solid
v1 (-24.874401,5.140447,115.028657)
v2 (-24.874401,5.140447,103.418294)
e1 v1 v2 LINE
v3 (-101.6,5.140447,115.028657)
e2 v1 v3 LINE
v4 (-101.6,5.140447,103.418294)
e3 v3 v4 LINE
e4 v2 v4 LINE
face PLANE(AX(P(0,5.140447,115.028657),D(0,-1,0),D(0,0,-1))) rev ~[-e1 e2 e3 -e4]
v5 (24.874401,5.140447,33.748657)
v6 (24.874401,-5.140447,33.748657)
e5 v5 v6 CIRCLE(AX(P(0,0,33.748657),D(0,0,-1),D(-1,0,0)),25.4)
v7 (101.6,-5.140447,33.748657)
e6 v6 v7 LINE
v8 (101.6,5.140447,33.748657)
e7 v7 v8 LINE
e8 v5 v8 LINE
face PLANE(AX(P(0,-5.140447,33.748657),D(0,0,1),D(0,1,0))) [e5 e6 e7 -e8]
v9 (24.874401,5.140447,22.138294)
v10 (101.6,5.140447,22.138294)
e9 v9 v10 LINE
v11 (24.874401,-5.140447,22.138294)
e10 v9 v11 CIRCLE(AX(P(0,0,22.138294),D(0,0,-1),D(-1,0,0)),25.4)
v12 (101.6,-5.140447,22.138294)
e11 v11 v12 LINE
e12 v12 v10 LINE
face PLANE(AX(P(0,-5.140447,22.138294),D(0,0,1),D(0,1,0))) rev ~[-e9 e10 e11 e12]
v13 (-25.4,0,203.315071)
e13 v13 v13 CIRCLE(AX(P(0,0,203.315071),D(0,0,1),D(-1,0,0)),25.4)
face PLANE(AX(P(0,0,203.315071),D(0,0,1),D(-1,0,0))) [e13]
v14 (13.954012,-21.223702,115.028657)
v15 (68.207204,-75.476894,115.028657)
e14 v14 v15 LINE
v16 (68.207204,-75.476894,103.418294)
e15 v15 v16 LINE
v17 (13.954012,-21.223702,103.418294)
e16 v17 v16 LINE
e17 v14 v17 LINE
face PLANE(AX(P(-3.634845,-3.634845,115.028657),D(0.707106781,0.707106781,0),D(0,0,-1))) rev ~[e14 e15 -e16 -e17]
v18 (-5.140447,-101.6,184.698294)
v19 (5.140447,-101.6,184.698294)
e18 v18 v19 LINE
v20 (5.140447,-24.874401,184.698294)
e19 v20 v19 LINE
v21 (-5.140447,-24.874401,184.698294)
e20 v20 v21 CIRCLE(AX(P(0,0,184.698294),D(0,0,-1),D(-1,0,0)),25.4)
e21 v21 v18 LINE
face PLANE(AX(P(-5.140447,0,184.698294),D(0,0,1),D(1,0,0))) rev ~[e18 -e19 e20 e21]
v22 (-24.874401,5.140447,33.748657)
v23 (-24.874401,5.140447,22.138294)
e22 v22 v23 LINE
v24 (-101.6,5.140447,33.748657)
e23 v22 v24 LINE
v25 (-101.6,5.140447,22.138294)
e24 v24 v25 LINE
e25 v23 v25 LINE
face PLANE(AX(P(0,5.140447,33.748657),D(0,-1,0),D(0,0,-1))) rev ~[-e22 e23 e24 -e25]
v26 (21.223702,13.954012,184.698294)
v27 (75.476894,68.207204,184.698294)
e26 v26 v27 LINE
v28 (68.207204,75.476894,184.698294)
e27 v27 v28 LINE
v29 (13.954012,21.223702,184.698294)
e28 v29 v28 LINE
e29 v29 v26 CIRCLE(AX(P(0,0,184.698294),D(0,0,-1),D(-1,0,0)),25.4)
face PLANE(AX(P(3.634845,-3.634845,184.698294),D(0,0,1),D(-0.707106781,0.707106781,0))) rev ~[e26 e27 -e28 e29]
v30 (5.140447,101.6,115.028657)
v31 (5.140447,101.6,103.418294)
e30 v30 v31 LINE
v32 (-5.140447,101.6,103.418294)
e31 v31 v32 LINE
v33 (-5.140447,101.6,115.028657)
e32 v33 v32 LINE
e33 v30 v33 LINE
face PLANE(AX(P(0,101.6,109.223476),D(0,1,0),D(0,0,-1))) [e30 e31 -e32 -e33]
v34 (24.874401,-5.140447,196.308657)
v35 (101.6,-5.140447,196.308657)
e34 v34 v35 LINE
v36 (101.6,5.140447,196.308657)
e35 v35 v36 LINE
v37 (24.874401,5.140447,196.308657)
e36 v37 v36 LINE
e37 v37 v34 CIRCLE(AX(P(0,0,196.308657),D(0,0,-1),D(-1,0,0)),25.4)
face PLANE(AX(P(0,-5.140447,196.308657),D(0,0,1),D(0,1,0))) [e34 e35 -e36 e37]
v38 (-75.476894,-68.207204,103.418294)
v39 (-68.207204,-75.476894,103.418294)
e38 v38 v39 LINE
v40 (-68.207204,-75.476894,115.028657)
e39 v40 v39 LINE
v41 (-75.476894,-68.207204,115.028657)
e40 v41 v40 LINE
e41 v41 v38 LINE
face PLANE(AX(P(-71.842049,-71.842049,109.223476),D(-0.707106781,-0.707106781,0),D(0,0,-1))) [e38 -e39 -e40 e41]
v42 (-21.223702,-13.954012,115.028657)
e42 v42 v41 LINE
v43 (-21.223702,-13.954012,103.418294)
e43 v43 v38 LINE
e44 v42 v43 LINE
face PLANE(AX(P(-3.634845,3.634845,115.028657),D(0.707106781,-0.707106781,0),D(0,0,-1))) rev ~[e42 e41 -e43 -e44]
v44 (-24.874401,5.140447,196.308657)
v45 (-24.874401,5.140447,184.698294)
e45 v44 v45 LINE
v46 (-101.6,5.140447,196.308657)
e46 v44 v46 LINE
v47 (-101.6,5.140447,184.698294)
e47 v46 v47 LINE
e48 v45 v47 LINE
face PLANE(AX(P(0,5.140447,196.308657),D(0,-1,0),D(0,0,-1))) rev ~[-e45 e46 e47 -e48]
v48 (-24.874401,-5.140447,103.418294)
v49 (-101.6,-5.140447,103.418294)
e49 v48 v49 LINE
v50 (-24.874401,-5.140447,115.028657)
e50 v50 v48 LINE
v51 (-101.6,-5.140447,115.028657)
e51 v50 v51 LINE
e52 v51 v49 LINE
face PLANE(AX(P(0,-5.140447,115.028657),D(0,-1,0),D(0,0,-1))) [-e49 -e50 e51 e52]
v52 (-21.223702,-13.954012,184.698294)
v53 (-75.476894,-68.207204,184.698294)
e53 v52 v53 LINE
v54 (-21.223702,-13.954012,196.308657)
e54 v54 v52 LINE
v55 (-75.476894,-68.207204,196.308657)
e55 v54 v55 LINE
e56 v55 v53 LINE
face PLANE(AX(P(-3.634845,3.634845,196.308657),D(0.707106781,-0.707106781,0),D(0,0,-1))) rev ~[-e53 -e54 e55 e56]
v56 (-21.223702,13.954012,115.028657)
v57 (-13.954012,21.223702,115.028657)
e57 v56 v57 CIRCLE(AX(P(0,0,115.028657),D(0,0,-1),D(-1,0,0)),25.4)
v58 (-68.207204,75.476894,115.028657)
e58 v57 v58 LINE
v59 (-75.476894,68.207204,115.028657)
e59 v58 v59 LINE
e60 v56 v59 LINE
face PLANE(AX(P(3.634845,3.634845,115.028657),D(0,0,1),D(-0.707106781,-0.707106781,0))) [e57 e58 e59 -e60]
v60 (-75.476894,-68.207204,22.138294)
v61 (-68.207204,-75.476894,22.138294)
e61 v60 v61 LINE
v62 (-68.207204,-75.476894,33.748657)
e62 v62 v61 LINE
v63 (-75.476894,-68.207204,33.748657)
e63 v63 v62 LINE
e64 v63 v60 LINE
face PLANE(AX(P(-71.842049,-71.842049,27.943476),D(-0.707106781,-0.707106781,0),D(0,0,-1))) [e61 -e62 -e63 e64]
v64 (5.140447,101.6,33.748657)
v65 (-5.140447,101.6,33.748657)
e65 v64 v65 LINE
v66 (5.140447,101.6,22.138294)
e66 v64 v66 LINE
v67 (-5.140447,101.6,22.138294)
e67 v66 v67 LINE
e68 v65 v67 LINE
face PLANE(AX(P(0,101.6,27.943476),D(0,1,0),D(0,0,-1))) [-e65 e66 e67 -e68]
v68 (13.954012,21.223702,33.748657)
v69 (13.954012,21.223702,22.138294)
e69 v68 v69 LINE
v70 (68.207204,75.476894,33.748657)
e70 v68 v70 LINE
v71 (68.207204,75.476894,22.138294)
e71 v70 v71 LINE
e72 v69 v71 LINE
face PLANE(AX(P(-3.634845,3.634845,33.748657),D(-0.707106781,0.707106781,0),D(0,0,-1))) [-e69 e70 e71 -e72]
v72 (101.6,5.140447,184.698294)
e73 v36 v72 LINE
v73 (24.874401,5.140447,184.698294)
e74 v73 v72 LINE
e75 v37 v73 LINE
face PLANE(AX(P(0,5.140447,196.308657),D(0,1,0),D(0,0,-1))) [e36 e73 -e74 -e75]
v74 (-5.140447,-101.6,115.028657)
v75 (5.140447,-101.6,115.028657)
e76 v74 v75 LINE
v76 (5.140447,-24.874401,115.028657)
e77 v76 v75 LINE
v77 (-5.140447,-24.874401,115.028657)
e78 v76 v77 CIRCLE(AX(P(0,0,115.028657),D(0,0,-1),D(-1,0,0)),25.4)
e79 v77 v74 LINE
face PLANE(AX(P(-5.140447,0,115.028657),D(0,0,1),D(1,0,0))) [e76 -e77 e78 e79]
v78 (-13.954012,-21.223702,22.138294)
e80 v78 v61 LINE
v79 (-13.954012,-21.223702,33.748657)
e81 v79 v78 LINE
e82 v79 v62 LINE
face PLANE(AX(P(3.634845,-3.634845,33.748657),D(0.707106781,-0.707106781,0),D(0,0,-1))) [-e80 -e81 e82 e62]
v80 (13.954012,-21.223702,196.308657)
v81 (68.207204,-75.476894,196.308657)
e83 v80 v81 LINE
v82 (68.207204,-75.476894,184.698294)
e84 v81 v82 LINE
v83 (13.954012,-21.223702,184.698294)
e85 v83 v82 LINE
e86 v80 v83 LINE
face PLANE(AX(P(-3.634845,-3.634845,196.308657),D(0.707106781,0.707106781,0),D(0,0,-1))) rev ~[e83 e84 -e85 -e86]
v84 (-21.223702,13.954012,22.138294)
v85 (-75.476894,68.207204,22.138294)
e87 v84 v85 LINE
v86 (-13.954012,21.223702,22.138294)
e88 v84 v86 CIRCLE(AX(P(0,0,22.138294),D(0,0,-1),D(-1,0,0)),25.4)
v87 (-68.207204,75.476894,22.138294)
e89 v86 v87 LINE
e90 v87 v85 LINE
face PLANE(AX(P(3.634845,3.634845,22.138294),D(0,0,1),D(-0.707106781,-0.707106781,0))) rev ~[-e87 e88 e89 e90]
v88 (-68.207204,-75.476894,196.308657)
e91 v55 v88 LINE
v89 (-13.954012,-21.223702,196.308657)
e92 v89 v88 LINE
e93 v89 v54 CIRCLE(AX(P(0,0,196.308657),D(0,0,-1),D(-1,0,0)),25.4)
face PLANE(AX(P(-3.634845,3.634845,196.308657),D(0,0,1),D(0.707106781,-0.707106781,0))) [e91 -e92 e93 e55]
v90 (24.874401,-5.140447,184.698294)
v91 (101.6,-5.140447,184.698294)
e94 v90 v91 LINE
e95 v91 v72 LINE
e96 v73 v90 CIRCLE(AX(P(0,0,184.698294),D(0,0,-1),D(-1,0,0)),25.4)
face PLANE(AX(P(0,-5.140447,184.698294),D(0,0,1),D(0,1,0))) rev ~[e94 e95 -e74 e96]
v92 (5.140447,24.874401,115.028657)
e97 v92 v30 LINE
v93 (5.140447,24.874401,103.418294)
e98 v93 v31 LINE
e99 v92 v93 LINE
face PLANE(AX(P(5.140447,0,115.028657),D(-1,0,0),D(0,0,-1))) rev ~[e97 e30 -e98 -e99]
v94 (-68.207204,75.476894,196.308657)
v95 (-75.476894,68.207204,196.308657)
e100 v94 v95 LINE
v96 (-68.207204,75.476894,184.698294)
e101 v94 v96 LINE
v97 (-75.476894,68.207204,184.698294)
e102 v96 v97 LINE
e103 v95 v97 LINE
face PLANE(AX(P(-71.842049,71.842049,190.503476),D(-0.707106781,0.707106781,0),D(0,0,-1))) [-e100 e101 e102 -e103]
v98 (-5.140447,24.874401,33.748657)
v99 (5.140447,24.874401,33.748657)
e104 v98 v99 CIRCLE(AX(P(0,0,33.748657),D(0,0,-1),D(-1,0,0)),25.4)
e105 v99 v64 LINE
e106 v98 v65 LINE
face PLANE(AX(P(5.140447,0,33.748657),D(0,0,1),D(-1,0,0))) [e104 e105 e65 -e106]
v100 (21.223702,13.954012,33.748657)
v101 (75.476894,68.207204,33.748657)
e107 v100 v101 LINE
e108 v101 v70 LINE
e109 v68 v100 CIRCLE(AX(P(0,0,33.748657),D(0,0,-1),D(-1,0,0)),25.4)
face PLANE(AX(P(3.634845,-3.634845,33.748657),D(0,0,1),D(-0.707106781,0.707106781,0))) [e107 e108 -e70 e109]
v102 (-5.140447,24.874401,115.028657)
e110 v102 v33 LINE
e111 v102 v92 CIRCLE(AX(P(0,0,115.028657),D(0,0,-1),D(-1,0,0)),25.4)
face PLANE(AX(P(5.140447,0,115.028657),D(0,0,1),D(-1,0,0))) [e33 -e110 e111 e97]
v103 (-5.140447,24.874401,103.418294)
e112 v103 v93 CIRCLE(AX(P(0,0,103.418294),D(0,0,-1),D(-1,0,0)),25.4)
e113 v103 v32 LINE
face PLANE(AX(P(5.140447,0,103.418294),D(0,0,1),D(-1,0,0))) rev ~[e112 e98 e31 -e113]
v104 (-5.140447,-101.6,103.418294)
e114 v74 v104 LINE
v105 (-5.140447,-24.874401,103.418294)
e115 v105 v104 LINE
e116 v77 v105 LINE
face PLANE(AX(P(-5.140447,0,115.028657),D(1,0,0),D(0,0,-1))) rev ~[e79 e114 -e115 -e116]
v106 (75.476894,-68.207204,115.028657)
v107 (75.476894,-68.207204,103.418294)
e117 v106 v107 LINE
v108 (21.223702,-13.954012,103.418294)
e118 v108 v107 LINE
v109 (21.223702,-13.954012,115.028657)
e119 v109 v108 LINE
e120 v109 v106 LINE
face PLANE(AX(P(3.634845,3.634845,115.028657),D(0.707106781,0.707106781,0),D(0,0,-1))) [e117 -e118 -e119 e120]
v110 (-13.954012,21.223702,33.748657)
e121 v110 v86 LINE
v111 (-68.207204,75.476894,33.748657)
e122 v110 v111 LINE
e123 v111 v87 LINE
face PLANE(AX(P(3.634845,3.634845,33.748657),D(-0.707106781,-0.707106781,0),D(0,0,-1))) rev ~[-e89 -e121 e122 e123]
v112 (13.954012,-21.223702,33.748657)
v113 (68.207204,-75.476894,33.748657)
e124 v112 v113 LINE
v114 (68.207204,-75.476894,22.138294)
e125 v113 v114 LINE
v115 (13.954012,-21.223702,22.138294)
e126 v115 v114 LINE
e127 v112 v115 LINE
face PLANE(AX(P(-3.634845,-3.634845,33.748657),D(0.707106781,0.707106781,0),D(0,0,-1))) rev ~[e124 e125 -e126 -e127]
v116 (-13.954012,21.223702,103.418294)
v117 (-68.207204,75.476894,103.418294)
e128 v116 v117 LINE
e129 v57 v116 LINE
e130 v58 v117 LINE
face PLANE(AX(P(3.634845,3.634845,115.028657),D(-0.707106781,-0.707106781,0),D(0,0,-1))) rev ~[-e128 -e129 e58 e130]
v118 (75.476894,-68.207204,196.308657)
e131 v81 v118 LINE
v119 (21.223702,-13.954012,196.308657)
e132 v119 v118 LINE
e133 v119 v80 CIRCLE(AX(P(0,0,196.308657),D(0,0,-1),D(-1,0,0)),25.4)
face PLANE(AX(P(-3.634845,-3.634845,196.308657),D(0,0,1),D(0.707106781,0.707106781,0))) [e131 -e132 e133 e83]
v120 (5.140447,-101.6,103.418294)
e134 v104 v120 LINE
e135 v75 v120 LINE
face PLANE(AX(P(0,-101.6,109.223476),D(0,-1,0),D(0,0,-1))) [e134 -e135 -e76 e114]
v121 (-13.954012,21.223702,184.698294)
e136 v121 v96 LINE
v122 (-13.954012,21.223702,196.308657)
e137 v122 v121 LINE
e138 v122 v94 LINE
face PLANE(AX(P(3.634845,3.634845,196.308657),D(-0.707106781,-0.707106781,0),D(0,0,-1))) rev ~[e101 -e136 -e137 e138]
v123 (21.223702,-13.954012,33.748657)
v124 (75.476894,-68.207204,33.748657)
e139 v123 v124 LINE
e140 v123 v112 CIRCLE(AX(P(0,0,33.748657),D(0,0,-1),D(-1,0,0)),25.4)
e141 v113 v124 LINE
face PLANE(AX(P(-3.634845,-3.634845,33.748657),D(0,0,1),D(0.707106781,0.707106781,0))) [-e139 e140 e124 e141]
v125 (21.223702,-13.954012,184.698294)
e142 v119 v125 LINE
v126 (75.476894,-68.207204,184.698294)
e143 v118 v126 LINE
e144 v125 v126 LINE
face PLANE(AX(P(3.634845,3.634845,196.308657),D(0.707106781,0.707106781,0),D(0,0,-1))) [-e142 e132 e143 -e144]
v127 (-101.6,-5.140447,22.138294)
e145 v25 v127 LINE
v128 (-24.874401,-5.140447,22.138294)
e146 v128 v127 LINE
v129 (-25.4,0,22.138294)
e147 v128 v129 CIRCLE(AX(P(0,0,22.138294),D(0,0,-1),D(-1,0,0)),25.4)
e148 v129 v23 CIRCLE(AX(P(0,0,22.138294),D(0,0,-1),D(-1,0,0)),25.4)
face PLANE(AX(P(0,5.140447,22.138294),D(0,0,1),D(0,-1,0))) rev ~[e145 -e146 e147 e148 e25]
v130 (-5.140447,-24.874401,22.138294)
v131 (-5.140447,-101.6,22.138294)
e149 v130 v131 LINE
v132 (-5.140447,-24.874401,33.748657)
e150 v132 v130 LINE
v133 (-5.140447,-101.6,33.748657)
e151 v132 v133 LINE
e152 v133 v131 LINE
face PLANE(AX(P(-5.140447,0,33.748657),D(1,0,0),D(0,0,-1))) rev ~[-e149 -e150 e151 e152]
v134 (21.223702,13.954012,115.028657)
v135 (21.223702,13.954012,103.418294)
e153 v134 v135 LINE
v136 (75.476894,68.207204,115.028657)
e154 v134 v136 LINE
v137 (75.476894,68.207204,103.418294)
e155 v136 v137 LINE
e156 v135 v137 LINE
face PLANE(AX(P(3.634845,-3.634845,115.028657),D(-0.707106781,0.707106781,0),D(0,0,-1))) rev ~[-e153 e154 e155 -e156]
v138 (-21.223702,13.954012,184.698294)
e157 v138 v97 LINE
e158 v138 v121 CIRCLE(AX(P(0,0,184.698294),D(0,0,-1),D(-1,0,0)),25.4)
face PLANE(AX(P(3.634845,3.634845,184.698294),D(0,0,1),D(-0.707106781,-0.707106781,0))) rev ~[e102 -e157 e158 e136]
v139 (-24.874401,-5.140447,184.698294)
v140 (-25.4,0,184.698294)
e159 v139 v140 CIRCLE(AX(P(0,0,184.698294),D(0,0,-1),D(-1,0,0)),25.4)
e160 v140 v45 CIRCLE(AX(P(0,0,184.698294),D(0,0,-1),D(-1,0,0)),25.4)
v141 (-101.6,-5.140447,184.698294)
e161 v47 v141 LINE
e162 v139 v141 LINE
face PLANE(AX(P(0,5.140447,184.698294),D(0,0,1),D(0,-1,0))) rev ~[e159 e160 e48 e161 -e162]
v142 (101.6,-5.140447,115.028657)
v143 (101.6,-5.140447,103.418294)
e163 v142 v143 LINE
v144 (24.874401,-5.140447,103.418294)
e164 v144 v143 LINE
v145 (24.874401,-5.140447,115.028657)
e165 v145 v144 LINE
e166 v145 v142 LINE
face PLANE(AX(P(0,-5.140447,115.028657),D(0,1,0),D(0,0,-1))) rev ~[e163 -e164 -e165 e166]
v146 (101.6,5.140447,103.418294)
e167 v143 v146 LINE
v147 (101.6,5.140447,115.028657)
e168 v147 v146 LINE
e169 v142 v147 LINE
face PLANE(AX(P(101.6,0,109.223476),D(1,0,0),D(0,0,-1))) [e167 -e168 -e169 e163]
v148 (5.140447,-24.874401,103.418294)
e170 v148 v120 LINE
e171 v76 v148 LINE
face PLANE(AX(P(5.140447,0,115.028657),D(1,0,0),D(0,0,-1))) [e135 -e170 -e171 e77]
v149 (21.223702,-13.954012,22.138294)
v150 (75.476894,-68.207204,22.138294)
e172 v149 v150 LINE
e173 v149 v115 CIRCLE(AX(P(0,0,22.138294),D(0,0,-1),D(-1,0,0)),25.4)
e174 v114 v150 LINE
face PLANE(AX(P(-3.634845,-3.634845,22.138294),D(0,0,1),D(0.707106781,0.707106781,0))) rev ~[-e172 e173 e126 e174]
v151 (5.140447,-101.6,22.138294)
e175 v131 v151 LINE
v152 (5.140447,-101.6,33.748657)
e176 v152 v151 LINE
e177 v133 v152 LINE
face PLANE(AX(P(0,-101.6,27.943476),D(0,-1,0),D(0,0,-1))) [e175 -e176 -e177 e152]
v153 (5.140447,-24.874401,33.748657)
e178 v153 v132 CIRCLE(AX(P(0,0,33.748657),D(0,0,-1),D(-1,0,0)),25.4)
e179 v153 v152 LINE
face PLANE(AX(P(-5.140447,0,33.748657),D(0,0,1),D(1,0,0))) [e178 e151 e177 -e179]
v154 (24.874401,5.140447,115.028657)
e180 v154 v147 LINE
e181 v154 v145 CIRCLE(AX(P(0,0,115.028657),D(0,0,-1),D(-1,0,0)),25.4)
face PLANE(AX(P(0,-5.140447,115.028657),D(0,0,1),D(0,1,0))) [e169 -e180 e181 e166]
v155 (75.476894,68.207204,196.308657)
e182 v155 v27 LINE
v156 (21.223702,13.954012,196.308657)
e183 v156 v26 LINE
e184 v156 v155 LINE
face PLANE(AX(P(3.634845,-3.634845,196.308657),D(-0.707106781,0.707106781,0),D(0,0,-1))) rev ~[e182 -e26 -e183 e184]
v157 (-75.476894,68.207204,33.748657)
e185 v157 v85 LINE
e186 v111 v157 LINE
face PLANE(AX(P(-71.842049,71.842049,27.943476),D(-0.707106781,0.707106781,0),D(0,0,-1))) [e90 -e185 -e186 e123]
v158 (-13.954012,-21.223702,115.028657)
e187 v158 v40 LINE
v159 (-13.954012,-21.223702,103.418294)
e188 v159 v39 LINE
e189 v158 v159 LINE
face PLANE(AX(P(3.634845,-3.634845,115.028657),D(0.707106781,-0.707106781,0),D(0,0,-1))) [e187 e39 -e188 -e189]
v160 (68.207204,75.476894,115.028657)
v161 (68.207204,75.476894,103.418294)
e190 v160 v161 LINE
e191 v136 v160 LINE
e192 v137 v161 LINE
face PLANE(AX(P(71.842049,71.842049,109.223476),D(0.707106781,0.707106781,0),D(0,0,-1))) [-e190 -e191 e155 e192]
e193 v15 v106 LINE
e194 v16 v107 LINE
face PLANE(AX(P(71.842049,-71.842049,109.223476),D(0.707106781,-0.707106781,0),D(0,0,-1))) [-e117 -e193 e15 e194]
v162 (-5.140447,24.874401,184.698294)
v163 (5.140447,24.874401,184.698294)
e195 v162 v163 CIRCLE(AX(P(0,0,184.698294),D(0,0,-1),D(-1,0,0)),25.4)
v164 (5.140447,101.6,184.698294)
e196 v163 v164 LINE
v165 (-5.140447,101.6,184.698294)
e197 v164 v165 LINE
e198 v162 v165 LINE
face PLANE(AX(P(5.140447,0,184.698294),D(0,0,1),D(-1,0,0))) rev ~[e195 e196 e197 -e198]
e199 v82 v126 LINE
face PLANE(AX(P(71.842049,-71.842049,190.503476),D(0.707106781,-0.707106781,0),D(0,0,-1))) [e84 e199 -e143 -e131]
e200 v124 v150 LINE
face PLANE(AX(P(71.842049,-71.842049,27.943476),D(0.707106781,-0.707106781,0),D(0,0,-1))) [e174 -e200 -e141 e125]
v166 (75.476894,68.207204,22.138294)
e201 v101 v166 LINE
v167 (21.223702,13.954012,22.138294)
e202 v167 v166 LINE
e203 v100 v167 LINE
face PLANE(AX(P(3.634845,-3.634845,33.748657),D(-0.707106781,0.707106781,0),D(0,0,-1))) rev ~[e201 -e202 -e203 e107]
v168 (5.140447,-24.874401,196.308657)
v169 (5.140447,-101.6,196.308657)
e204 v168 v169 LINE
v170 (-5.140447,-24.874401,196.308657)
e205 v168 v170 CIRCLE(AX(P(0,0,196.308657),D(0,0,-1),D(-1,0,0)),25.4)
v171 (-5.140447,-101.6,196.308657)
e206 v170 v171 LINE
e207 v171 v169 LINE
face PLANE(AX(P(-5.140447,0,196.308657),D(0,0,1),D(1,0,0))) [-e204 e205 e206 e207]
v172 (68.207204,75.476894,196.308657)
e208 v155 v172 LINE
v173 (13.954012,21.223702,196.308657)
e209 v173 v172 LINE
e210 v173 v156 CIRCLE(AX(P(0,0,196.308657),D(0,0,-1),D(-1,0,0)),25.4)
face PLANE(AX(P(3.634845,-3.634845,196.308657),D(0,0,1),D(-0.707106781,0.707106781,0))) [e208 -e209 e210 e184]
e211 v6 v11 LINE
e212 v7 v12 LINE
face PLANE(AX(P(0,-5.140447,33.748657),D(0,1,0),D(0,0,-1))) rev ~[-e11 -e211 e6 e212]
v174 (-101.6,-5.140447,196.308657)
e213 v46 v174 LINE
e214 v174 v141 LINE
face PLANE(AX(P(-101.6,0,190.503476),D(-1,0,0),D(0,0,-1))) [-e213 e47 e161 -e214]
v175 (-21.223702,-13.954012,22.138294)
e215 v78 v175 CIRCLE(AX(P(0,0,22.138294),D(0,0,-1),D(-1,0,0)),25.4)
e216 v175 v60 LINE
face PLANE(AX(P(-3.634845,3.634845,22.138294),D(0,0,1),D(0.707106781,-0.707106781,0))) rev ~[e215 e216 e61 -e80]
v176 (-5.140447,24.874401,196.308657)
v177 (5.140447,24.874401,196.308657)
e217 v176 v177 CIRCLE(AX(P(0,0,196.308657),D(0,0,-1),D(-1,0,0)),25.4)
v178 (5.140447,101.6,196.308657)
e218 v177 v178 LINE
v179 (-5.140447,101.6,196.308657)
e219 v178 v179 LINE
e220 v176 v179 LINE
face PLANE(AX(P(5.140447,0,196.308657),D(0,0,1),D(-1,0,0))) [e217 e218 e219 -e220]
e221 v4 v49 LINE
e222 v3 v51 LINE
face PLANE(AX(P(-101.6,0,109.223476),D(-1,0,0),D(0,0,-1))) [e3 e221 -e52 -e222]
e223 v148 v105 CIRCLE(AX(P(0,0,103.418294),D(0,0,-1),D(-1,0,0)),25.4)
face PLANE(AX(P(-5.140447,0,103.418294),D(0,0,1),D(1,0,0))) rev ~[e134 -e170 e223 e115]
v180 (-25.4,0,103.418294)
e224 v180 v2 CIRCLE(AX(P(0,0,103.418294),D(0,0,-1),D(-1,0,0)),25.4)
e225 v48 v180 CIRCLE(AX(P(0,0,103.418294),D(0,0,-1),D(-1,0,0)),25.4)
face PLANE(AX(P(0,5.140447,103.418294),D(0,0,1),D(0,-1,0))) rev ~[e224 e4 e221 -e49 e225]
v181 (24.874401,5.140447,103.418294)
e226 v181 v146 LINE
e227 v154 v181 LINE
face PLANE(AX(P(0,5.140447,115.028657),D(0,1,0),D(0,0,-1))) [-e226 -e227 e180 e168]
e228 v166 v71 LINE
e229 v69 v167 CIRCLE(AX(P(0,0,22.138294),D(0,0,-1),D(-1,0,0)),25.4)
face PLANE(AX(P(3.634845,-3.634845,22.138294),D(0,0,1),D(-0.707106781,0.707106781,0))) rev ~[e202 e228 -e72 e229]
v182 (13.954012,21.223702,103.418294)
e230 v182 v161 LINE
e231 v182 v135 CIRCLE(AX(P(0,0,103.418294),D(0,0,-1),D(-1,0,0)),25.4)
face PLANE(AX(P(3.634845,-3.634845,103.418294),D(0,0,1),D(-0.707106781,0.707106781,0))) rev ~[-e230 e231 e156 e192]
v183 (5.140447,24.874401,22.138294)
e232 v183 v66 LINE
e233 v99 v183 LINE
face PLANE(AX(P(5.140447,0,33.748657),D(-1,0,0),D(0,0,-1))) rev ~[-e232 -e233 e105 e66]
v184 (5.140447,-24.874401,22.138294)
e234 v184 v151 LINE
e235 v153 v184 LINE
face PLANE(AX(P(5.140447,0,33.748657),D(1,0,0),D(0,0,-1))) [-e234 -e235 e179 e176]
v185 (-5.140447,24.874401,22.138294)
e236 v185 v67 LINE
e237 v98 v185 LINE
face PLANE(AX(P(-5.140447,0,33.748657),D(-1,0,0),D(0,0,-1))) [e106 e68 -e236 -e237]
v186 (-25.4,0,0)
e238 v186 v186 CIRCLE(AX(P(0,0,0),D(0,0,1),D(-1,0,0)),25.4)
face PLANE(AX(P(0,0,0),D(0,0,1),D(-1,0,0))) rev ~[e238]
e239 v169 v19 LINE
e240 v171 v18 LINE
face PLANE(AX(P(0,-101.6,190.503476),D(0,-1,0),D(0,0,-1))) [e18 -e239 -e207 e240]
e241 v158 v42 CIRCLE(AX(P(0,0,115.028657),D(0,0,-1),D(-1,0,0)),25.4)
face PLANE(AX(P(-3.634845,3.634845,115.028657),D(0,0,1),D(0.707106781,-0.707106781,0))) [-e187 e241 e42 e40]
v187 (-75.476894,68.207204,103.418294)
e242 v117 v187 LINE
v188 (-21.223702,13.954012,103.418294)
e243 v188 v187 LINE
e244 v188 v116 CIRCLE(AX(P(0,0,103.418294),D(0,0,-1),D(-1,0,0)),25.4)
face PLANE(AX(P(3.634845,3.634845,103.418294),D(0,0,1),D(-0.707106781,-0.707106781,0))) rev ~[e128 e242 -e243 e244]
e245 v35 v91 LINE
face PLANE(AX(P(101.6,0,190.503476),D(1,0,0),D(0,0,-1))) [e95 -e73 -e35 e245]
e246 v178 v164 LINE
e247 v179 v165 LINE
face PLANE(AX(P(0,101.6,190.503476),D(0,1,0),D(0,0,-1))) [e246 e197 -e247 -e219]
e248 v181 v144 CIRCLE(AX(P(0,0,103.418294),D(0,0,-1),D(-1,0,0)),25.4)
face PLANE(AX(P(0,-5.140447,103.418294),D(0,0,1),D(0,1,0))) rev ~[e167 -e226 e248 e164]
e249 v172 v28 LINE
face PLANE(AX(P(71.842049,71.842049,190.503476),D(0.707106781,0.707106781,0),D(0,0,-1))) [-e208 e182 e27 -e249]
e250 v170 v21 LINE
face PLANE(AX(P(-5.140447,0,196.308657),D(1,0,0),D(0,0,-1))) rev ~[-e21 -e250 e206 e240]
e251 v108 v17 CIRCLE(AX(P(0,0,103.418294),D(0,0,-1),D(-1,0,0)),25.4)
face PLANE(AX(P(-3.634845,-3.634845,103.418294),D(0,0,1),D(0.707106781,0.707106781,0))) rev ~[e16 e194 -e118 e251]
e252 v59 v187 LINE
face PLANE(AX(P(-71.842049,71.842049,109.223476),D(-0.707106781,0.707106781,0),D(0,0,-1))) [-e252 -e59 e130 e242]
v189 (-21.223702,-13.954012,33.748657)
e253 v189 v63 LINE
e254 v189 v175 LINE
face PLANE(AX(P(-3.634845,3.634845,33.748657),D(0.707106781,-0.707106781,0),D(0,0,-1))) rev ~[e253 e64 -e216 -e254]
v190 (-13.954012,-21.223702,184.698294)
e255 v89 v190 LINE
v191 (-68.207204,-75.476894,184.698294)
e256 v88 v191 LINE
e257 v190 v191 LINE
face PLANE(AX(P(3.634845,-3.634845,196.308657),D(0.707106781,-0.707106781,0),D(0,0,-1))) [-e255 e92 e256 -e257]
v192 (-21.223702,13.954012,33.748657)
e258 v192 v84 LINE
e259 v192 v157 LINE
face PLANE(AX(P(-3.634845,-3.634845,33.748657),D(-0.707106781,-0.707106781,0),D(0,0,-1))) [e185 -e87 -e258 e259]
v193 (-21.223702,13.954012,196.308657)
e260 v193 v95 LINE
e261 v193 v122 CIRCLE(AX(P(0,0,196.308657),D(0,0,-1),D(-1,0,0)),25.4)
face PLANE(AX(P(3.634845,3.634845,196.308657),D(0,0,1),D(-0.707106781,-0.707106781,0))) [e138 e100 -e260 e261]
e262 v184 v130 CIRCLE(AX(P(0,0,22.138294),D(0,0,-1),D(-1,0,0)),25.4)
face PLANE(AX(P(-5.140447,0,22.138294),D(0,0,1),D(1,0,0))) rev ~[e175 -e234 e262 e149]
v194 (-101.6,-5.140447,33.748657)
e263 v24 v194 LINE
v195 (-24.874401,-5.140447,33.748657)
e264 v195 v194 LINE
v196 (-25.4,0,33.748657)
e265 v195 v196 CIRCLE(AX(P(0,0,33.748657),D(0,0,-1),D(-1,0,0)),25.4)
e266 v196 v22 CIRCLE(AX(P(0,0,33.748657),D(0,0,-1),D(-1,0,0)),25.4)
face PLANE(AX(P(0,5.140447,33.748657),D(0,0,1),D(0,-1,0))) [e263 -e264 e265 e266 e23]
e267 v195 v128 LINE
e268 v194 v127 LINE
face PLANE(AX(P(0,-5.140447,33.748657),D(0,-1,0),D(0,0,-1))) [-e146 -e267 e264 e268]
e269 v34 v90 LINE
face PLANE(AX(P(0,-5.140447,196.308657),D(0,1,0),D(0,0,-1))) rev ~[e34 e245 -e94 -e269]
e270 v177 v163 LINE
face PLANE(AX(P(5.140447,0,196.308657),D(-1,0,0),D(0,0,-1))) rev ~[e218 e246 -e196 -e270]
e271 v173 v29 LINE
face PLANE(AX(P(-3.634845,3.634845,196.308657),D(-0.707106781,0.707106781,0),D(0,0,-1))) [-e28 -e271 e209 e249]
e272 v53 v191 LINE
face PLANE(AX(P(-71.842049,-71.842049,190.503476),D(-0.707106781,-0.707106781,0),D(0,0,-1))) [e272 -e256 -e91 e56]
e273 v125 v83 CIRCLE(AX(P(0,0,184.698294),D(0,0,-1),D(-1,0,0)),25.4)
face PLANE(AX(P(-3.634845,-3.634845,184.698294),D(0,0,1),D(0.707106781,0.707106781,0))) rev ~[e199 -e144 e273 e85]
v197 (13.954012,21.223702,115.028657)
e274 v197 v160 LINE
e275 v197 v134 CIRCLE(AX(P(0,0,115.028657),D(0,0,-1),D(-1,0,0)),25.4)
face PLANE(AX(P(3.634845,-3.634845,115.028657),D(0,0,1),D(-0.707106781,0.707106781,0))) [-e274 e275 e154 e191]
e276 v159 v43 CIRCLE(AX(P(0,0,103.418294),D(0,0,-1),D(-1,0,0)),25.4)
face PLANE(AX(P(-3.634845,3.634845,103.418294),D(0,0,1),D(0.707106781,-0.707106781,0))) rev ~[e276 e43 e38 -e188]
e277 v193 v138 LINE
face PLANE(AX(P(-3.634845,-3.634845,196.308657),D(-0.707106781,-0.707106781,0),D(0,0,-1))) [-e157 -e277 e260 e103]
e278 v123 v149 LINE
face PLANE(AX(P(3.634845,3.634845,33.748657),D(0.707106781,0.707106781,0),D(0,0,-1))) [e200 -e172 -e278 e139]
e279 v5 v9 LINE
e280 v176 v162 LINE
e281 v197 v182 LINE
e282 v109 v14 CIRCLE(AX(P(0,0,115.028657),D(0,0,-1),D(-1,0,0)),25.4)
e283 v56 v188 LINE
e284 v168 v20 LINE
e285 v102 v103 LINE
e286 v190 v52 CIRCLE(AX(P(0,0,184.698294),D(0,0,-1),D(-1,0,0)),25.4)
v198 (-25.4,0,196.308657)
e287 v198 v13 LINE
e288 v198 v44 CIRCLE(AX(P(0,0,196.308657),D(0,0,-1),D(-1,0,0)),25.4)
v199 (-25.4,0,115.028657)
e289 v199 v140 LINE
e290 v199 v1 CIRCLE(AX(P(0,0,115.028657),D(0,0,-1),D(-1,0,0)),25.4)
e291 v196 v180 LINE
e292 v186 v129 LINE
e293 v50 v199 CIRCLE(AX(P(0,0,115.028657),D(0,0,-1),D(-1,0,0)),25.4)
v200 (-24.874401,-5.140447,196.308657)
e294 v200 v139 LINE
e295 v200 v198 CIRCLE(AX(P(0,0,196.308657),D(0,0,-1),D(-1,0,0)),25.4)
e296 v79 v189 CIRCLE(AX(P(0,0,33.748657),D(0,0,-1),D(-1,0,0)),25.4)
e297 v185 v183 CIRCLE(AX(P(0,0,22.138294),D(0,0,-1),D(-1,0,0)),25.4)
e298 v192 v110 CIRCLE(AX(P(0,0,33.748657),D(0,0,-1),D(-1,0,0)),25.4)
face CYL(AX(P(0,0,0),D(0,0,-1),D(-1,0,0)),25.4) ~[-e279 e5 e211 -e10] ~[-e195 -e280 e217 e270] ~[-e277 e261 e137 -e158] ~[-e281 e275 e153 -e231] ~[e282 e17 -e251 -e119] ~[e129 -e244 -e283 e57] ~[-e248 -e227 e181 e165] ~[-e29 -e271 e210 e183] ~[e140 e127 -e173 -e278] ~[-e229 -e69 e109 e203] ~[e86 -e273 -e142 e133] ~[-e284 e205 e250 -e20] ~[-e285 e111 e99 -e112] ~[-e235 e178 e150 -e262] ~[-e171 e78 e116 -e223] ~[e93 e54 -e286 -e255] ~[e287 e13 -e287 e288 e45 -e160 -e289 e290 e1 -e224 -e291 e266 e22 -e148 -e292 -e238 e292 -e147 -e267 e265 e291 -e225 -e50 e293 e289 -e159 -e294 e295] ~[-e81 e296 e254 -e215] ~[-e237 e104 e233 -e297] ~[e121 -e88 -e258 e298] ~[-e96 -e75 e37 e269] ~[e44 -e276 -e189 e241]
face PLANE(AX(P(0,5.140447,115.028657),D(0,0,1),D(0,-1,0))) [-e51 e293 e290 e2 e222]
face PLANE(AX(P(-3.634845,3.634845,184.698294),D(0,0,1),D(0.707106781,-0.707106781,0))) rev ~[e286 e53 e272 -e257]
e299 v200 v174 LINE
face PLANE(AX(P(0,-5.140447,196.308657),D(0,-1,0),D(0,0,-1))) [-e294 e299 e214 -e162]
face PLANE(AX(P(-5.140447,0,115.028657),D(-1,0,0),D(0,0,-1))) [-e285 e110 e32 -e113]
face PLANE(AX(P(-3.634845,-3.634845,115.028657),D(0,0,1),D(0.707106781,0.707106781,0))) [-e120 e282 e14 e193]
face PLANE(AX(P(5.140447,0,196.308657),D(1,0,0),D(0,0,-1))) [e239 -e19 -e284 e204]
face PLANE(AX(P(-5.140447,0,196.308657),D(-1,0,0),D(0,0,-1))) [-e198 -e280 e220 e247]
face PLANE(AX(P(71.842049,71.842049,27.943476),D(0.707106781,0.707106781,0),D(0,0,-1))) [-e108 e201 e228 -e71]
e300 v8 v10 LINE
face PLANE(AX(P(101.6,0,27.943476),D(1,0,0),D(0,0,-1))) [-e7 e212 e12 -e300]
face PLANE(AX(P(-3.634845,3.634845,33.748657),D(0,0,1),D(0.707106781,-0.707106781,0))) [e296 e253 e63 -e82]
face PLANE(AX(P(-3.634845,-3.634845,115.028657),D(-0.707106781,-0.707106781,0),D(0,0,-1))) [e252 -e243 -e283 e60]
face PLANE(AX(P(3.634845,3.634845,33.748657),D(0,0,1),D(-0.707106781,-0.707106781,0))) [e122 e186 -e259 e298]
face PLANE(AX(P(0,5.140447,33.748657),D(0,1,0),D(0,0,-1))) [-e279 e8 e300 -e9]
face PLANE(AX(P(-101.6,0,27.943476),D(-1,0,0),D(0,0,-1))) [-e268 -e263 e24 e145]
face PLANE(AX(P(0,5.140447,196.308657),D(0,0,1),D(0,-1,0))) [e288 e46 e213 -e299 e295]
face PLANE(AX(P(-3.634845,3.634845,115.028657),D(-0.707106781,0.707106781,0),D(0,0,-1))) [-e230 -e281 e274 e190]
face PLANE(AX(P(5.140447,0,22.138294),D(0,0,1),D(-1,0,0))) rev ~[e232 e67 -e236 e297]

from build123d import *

# Parameters (mm, degrees)
SKETCH1_R                  = 25.4
BOSS_EXTRUDE1_DEPTH        = 203.31507114
SKETCH3_W                  = 11.610363297
SKETCH3_H                  = 10.2808948
BOSS_EXTRUDE3_DEPTH        = 101.6
CIRPATTERN4_COUNT          = 8
LPATTERN1_COUNT            = 3
LPATTERN1_PITCH            = 81.28
LPATTERN1_COPY_1_SKETCH_W  = 11.610363297
LPATTERN1_COPY_1_SKETCH_H  = 10.2808948
LPATTERN1_COPY_1_DEPTH     = 101.6
LPATTERN1_COPY_2_SKETCH_W  = 11.610363297
LPATTERN1_COPY_2_SKETCH_H  = 10.2808948
LPATTERN1_COPY_2_DEPTH     = 101.6
LPATTERN1_COPY_3_SKETCH_W  = 11.610363297
LPATTERN1_COPY_3_SKETCH_H  = 10.2808948
LPATTERN1_COPY_3_DEPTH     = 101.6
LPATTERN1_COPY_4_SKETCH_W  = 11.610363297
LPATTERN1_COPY_4_SKETCH_H  = 10.2808948
LPATTERN1_COPY_4_DEPTH     = 101.6
LPATTERN1_COPY_5_SKETCH_W  = 11.610363297
LPATTERN1_COPY_5_SKETCH_H  = 10.2808948
LPATTERN1_COPY_5_DEPTH     = 101.6
LPATTERN1_COPY_6_SKETCH_W  = 11.610363297
LPATTERN1_COPY_6_SKETCH_H  = 10.2808948
LPATTERN1_COPY_6_DEPTH     = 101.6
LPATTERN1_COPY_7_SKETCH_W  = 11.610363297
LPATTERN1_COPY_7_SKETCH_H  = 10.2808948
LPATTERN1_COPY_7_DEPTH     = 101.6
LPATTERN1_COPY_8_SKETCH_W  = 11.610363297
LPATTERN1_COPY_8_SKETCH_H  = 10.2808948
LPATTERN1_COPY_8_DEPTH     = 101.6
LPATTERN1_COPY_9_SKETCH_W  = 11.610363297
LPATTERN1_COPY_9_SKETCH_H  = 10.2808948
LPATTERN1_COPY_9_DEPTH     = 101.6
LPATTERN1_COPY_10_SKETCH_W = 11.610363297
LPATTERN1_COPY_10_SKETCH_H = 10.2808948
LPATTERN1_COPY_10_DEPTH    = 101.6
LPATTERN1_COPY_11_SKETCH_W = 11.610363297
LPATTERN1_COPY_11_SKETCH_H = 10.2808948
LPATTERN1_COPY_11_DEPTH    = 101.6
LPATTERN1_COPY_12_SKETCH_W = 11.610363297
LPATTERN1_COPY_12_SKETCH_H = 10.2808948
LPATTERN1_COPY_12_DEPTH    = 101.6
LPATTERN1_COPY_13_SKETCH_W = 11.610363297
LPATTERN1_COPY_13_SKETCH_H = 10.2808948
LPATTERN1_COPY_13_DEPTH    = 101.6
LPATTERN1_COPY_14_SKETCH_W = 11.610363297
LPATTERN1_COPY_14_SKETCH_H = 10.2808948
LPATTERN1_COPY_14_DEPTH    = 101.6


with BuildPart() as part:
    # Sketch1 → Boss-Extrude1 (new body)
    with BuildSketch(Plane.XY):
        with Locations(Location((0, 0, 0), (0, 0, 180))):
            Circle(SKETCH1_R)
    extrude(amount=BOSS_EXTRUDE1_DEPTH)

    # Sketch3 → Boss-Extrude3 (add)
    with BuildSketch(Plane(origin=(0, 0, 0), x_dir=(0, 0, -1), z_dir=(1, 0, 0))):
        with Locations((-190.503475636, 0)):
            Rectangle(SKETCH3_W, SKETCH3_H)
    boss_extrude3 = extrude(amount=BOSS_EXTRUDE3_DEPTH)

    # CirPattern4: Boss-Extrude3 ×8 about axis
    cirpattern4_axis = Axis((0, 0, 0), (0, 0, 1))
    for i in range(1, CIRPATTERN4_COUNT):
        add(boss_extrude3.rotate(cirpattern4_axis, i * 360 / CIRPATTERN4_COUNT))

    # LPattern1: Boss-Extrude3 ×3
    with Locations(*[(0, 0, -i * LPATTERN1_PITCH) for i in range(1, LPATTERN1_COUNT)]):
        add(boss_extrude3)

    # LPattern1 copy 1 sketch → LPattern1 copy 1 (add)
    with BuildSketch(Plane(origin=(0, 0, -81.28), x_dir=(0, 0, -1), z_dir=(0.7071067811865476, 0.7071067811865475, 0))):
        with Locations((-190.503475636, 0)):
            Rectangle(LPATTERN1_COPY_1_SKETCH_W, LPATTERN1_COPY_1_SKETCH_H)
    extrude(amount=LPATTERN1_COPY_1_DEPTH)

    # LPattern1 copy 2 sketch → LPattern1 copy 2 (add)
    with BuildSketch(Plane(origin=(0, 0, -162.56), x_dir=(0, 0, -1), z_dir=(0.7071067811865476, 0.7071067811865475, 0))):
        with Locations((-190.503475636, 0)):
            Rectangle(LPATTERN1_COPY_2_SKETCH_W, LPATTERN1_COPY_2_SKETCH_H)
    extrude(amount=LPATTERN1_COPY_2_DEPTH)

    # LPattern1 copy 3 sketch → LPattern1 copy 3 (add)
    with BuildSketch(Plane(origin=(0, 0, -81.28), x_dir=(0, 0, -1), z_dir=(0, 1, 0))):
        with Locations((-190.503475636, 0)):
            Rectangle(LPATTERN1_COPY_3_SKETCH_W, LPATTERN1_COPY_3_SKETCH_H)
    extrude(amount=LPATTERN1_COPY_3_DEPTH)

    # LPattern1 copy 4 sketch → LPattern1 copy 4 (add)
    with BuildSketch(Plane(origin=(0, 0, -162.56), x_dir=(0, 0, -1), z_dir=(0, 1, 0))):
        with Locations((-190.503475636, 0)):
            Rectangle(LPATTERN1_COPY_4_SKETCH_W, LPATTERN1_COPY_4_SKETCH_H)
    extrude(amount=LPATTERN1_COPY_4_DEPTH)

    # LPattern1 copy 5 sketch → LPattern1 copy 5 (add)
    with BuildSketch(Plane(origin=(0, 0, -81.28), x_dir=(0, 0, -1), z_dir=(-0.7071067811865475, 0.7071067811865476, 0))):
        with Locations((-190.503475636, 0)):
            Rectangle(LPATTERN1_COPY_5_SKETCH_W, LPATTERN1_COPY_5_SKETCH_H)
    extrude(amount=LPATTERN1_COPY_5_DEPTH)

    # LPattern1 copy 6 sketch → LPattern1 copy 6 (add)
    with BuildSketch(Plane(origin=(0, 0, -162.56), x_dir=(0, 0, -1), z_dir=(-0.7071067811865475, 0.7071067811865476, 0))):
        with Locations((-190.503475636, 0)):
            Rectangle(LPATTERN1_COPY_6_SKETCH_W, LPATTERN1_COPY_6_SKETCH_H)
    extrude(amount=LPATTERN1_COPY_6_DEPTH)

    # LPattern1 copy 7 sketch → LPattern1 copy 7 (add)
    with BuildSketch(Plane(origin=(0, 0, -81.28), x_dir=(0, 0, -1), z_dir=(-1, 0, 0))):
        with Locations((-190.503475636, 0)):
            Rectangle(LPATTERN1_COPY_7_SKETCH_W, LPATTERN1_COPY_7_SKETCH_H)
    extrude(amount=LPATTERN1_COPY_7_DEPTH)

    # LPattern1 copy 8 sketch → LPattern1 copy 8 (add)
    with BuildSketch(Plane(origin=(0, 0, -162.56), x_dir=(0, 0, -1), z_dir=(-1, 0, 0))):
        with Locations((-190.503475636, 0)):
            Rectangle(LPATTERN1_COPY_8_SKETCH_W, LPATTERN1_COPY_8_SKETCH_H)
    extrude(amount=LPATTERN1_COPY_8_DEPTH)

    # LPattern1 copy 9 sketch → LPattern1 copy 9 (add)
    with BuildSketch(Plane(origin=(0, 0, -81.28), x_dir=(0, 0, -1), z_dir=(-0.7071067811865477, -0.7071067811865475, 0))):
        with Locations((-190.503475636, 0)):
            Rectangle(LPATTERN1_COPY_9_SKETCH_W, LPATTERN1_COPY_9_SKETCH_H)
    extrude(amount=LPATTERN1_COPY_9_DEPTH)

    # LPattern1 copy 10 sketch → LPattern1 copy 10 (add)
    with BuildSketch(Plane(origin=(0, 0, -162.56), x_dir=(0, 0, -1), z_dir=(-0.7071067811865477, -0.7071067811865475, 0))):
        with Locations((-190.503475636, 0)):
            Rectangle(LPATTERN1_COPY_10_SKETCH_W, LPATTERN1_COPY_10_SKETCH_H)
    extrude(amount=LPATTERN1_COPY_10_DEPTH)

    # LPattern1 copy 11 sketch → LPattern1 copy 11 (add)
    with BuildSketch(Plane(origin=(0, 0, -81.28), x_dir=(0, 0, -1), z_dir=(0, -1, 0))):
        with Locations((-190.503475636, 0)):
            Rectangle(LPATTERN1_COPY_11_SKETCH_W, LPATTERN1_COPY_11_SKETCH_H)
    extrude(amount=LPATTERN1_COPY_11_DEPTH)

    # LPattern1 copy 12 sketch → LPattern1 copy 12 (add)
    with BuildSketch(Plane(origin=(0, 0, -162.56), x_dir=(0, 0, -1), z_dir=(0, -1, 0))):
        with Locations((-190.503475636, 0)):
            Rectangle(LPATTERN1_COPY_12_SKETCH_W, LPATTERN1_COPY_12_SKETCH_H)
    extrude(amount=LPATTERN1_COPY_12_DEPTH)

    # LPattern1 copy 13 sketch → LPattern1 copy 13 (add)
    with BuildSketch(Plane(origin=(0, 0, -81.28), x_dir=(0, 0, -1), z_dir=(0.7071067811865474, -0.7071067811865477, 0))):
        with Locations((-190.503475636, 0)):
            Rectangle(LPATTERN1_COPY_13_SKETCH_W, LPATTERN1_COPY_13_SKETCH_H)
    extrude(amount=LPATTERN1_COPY_13_DEPTH)

    # LPattern1 copy 14 sketch → LPattern1 copy 14 (add)
    with BuildSketch(Plane(origin=(0, 0, -162.56), x_dir=(0, 0, -1), z_dir=(0.7071067811865474, -0.7071067811865477, 0))):
        with Locations((-190.503475636, 0)):
            Rectangle(LPATTERN1_COPY_14_SKETCH_W, LPATTERN1_COPY_14_SKETCH_H)
    extrude(amount=LPATTERN1_COPY_14_DEPTH)


solid = part.part
